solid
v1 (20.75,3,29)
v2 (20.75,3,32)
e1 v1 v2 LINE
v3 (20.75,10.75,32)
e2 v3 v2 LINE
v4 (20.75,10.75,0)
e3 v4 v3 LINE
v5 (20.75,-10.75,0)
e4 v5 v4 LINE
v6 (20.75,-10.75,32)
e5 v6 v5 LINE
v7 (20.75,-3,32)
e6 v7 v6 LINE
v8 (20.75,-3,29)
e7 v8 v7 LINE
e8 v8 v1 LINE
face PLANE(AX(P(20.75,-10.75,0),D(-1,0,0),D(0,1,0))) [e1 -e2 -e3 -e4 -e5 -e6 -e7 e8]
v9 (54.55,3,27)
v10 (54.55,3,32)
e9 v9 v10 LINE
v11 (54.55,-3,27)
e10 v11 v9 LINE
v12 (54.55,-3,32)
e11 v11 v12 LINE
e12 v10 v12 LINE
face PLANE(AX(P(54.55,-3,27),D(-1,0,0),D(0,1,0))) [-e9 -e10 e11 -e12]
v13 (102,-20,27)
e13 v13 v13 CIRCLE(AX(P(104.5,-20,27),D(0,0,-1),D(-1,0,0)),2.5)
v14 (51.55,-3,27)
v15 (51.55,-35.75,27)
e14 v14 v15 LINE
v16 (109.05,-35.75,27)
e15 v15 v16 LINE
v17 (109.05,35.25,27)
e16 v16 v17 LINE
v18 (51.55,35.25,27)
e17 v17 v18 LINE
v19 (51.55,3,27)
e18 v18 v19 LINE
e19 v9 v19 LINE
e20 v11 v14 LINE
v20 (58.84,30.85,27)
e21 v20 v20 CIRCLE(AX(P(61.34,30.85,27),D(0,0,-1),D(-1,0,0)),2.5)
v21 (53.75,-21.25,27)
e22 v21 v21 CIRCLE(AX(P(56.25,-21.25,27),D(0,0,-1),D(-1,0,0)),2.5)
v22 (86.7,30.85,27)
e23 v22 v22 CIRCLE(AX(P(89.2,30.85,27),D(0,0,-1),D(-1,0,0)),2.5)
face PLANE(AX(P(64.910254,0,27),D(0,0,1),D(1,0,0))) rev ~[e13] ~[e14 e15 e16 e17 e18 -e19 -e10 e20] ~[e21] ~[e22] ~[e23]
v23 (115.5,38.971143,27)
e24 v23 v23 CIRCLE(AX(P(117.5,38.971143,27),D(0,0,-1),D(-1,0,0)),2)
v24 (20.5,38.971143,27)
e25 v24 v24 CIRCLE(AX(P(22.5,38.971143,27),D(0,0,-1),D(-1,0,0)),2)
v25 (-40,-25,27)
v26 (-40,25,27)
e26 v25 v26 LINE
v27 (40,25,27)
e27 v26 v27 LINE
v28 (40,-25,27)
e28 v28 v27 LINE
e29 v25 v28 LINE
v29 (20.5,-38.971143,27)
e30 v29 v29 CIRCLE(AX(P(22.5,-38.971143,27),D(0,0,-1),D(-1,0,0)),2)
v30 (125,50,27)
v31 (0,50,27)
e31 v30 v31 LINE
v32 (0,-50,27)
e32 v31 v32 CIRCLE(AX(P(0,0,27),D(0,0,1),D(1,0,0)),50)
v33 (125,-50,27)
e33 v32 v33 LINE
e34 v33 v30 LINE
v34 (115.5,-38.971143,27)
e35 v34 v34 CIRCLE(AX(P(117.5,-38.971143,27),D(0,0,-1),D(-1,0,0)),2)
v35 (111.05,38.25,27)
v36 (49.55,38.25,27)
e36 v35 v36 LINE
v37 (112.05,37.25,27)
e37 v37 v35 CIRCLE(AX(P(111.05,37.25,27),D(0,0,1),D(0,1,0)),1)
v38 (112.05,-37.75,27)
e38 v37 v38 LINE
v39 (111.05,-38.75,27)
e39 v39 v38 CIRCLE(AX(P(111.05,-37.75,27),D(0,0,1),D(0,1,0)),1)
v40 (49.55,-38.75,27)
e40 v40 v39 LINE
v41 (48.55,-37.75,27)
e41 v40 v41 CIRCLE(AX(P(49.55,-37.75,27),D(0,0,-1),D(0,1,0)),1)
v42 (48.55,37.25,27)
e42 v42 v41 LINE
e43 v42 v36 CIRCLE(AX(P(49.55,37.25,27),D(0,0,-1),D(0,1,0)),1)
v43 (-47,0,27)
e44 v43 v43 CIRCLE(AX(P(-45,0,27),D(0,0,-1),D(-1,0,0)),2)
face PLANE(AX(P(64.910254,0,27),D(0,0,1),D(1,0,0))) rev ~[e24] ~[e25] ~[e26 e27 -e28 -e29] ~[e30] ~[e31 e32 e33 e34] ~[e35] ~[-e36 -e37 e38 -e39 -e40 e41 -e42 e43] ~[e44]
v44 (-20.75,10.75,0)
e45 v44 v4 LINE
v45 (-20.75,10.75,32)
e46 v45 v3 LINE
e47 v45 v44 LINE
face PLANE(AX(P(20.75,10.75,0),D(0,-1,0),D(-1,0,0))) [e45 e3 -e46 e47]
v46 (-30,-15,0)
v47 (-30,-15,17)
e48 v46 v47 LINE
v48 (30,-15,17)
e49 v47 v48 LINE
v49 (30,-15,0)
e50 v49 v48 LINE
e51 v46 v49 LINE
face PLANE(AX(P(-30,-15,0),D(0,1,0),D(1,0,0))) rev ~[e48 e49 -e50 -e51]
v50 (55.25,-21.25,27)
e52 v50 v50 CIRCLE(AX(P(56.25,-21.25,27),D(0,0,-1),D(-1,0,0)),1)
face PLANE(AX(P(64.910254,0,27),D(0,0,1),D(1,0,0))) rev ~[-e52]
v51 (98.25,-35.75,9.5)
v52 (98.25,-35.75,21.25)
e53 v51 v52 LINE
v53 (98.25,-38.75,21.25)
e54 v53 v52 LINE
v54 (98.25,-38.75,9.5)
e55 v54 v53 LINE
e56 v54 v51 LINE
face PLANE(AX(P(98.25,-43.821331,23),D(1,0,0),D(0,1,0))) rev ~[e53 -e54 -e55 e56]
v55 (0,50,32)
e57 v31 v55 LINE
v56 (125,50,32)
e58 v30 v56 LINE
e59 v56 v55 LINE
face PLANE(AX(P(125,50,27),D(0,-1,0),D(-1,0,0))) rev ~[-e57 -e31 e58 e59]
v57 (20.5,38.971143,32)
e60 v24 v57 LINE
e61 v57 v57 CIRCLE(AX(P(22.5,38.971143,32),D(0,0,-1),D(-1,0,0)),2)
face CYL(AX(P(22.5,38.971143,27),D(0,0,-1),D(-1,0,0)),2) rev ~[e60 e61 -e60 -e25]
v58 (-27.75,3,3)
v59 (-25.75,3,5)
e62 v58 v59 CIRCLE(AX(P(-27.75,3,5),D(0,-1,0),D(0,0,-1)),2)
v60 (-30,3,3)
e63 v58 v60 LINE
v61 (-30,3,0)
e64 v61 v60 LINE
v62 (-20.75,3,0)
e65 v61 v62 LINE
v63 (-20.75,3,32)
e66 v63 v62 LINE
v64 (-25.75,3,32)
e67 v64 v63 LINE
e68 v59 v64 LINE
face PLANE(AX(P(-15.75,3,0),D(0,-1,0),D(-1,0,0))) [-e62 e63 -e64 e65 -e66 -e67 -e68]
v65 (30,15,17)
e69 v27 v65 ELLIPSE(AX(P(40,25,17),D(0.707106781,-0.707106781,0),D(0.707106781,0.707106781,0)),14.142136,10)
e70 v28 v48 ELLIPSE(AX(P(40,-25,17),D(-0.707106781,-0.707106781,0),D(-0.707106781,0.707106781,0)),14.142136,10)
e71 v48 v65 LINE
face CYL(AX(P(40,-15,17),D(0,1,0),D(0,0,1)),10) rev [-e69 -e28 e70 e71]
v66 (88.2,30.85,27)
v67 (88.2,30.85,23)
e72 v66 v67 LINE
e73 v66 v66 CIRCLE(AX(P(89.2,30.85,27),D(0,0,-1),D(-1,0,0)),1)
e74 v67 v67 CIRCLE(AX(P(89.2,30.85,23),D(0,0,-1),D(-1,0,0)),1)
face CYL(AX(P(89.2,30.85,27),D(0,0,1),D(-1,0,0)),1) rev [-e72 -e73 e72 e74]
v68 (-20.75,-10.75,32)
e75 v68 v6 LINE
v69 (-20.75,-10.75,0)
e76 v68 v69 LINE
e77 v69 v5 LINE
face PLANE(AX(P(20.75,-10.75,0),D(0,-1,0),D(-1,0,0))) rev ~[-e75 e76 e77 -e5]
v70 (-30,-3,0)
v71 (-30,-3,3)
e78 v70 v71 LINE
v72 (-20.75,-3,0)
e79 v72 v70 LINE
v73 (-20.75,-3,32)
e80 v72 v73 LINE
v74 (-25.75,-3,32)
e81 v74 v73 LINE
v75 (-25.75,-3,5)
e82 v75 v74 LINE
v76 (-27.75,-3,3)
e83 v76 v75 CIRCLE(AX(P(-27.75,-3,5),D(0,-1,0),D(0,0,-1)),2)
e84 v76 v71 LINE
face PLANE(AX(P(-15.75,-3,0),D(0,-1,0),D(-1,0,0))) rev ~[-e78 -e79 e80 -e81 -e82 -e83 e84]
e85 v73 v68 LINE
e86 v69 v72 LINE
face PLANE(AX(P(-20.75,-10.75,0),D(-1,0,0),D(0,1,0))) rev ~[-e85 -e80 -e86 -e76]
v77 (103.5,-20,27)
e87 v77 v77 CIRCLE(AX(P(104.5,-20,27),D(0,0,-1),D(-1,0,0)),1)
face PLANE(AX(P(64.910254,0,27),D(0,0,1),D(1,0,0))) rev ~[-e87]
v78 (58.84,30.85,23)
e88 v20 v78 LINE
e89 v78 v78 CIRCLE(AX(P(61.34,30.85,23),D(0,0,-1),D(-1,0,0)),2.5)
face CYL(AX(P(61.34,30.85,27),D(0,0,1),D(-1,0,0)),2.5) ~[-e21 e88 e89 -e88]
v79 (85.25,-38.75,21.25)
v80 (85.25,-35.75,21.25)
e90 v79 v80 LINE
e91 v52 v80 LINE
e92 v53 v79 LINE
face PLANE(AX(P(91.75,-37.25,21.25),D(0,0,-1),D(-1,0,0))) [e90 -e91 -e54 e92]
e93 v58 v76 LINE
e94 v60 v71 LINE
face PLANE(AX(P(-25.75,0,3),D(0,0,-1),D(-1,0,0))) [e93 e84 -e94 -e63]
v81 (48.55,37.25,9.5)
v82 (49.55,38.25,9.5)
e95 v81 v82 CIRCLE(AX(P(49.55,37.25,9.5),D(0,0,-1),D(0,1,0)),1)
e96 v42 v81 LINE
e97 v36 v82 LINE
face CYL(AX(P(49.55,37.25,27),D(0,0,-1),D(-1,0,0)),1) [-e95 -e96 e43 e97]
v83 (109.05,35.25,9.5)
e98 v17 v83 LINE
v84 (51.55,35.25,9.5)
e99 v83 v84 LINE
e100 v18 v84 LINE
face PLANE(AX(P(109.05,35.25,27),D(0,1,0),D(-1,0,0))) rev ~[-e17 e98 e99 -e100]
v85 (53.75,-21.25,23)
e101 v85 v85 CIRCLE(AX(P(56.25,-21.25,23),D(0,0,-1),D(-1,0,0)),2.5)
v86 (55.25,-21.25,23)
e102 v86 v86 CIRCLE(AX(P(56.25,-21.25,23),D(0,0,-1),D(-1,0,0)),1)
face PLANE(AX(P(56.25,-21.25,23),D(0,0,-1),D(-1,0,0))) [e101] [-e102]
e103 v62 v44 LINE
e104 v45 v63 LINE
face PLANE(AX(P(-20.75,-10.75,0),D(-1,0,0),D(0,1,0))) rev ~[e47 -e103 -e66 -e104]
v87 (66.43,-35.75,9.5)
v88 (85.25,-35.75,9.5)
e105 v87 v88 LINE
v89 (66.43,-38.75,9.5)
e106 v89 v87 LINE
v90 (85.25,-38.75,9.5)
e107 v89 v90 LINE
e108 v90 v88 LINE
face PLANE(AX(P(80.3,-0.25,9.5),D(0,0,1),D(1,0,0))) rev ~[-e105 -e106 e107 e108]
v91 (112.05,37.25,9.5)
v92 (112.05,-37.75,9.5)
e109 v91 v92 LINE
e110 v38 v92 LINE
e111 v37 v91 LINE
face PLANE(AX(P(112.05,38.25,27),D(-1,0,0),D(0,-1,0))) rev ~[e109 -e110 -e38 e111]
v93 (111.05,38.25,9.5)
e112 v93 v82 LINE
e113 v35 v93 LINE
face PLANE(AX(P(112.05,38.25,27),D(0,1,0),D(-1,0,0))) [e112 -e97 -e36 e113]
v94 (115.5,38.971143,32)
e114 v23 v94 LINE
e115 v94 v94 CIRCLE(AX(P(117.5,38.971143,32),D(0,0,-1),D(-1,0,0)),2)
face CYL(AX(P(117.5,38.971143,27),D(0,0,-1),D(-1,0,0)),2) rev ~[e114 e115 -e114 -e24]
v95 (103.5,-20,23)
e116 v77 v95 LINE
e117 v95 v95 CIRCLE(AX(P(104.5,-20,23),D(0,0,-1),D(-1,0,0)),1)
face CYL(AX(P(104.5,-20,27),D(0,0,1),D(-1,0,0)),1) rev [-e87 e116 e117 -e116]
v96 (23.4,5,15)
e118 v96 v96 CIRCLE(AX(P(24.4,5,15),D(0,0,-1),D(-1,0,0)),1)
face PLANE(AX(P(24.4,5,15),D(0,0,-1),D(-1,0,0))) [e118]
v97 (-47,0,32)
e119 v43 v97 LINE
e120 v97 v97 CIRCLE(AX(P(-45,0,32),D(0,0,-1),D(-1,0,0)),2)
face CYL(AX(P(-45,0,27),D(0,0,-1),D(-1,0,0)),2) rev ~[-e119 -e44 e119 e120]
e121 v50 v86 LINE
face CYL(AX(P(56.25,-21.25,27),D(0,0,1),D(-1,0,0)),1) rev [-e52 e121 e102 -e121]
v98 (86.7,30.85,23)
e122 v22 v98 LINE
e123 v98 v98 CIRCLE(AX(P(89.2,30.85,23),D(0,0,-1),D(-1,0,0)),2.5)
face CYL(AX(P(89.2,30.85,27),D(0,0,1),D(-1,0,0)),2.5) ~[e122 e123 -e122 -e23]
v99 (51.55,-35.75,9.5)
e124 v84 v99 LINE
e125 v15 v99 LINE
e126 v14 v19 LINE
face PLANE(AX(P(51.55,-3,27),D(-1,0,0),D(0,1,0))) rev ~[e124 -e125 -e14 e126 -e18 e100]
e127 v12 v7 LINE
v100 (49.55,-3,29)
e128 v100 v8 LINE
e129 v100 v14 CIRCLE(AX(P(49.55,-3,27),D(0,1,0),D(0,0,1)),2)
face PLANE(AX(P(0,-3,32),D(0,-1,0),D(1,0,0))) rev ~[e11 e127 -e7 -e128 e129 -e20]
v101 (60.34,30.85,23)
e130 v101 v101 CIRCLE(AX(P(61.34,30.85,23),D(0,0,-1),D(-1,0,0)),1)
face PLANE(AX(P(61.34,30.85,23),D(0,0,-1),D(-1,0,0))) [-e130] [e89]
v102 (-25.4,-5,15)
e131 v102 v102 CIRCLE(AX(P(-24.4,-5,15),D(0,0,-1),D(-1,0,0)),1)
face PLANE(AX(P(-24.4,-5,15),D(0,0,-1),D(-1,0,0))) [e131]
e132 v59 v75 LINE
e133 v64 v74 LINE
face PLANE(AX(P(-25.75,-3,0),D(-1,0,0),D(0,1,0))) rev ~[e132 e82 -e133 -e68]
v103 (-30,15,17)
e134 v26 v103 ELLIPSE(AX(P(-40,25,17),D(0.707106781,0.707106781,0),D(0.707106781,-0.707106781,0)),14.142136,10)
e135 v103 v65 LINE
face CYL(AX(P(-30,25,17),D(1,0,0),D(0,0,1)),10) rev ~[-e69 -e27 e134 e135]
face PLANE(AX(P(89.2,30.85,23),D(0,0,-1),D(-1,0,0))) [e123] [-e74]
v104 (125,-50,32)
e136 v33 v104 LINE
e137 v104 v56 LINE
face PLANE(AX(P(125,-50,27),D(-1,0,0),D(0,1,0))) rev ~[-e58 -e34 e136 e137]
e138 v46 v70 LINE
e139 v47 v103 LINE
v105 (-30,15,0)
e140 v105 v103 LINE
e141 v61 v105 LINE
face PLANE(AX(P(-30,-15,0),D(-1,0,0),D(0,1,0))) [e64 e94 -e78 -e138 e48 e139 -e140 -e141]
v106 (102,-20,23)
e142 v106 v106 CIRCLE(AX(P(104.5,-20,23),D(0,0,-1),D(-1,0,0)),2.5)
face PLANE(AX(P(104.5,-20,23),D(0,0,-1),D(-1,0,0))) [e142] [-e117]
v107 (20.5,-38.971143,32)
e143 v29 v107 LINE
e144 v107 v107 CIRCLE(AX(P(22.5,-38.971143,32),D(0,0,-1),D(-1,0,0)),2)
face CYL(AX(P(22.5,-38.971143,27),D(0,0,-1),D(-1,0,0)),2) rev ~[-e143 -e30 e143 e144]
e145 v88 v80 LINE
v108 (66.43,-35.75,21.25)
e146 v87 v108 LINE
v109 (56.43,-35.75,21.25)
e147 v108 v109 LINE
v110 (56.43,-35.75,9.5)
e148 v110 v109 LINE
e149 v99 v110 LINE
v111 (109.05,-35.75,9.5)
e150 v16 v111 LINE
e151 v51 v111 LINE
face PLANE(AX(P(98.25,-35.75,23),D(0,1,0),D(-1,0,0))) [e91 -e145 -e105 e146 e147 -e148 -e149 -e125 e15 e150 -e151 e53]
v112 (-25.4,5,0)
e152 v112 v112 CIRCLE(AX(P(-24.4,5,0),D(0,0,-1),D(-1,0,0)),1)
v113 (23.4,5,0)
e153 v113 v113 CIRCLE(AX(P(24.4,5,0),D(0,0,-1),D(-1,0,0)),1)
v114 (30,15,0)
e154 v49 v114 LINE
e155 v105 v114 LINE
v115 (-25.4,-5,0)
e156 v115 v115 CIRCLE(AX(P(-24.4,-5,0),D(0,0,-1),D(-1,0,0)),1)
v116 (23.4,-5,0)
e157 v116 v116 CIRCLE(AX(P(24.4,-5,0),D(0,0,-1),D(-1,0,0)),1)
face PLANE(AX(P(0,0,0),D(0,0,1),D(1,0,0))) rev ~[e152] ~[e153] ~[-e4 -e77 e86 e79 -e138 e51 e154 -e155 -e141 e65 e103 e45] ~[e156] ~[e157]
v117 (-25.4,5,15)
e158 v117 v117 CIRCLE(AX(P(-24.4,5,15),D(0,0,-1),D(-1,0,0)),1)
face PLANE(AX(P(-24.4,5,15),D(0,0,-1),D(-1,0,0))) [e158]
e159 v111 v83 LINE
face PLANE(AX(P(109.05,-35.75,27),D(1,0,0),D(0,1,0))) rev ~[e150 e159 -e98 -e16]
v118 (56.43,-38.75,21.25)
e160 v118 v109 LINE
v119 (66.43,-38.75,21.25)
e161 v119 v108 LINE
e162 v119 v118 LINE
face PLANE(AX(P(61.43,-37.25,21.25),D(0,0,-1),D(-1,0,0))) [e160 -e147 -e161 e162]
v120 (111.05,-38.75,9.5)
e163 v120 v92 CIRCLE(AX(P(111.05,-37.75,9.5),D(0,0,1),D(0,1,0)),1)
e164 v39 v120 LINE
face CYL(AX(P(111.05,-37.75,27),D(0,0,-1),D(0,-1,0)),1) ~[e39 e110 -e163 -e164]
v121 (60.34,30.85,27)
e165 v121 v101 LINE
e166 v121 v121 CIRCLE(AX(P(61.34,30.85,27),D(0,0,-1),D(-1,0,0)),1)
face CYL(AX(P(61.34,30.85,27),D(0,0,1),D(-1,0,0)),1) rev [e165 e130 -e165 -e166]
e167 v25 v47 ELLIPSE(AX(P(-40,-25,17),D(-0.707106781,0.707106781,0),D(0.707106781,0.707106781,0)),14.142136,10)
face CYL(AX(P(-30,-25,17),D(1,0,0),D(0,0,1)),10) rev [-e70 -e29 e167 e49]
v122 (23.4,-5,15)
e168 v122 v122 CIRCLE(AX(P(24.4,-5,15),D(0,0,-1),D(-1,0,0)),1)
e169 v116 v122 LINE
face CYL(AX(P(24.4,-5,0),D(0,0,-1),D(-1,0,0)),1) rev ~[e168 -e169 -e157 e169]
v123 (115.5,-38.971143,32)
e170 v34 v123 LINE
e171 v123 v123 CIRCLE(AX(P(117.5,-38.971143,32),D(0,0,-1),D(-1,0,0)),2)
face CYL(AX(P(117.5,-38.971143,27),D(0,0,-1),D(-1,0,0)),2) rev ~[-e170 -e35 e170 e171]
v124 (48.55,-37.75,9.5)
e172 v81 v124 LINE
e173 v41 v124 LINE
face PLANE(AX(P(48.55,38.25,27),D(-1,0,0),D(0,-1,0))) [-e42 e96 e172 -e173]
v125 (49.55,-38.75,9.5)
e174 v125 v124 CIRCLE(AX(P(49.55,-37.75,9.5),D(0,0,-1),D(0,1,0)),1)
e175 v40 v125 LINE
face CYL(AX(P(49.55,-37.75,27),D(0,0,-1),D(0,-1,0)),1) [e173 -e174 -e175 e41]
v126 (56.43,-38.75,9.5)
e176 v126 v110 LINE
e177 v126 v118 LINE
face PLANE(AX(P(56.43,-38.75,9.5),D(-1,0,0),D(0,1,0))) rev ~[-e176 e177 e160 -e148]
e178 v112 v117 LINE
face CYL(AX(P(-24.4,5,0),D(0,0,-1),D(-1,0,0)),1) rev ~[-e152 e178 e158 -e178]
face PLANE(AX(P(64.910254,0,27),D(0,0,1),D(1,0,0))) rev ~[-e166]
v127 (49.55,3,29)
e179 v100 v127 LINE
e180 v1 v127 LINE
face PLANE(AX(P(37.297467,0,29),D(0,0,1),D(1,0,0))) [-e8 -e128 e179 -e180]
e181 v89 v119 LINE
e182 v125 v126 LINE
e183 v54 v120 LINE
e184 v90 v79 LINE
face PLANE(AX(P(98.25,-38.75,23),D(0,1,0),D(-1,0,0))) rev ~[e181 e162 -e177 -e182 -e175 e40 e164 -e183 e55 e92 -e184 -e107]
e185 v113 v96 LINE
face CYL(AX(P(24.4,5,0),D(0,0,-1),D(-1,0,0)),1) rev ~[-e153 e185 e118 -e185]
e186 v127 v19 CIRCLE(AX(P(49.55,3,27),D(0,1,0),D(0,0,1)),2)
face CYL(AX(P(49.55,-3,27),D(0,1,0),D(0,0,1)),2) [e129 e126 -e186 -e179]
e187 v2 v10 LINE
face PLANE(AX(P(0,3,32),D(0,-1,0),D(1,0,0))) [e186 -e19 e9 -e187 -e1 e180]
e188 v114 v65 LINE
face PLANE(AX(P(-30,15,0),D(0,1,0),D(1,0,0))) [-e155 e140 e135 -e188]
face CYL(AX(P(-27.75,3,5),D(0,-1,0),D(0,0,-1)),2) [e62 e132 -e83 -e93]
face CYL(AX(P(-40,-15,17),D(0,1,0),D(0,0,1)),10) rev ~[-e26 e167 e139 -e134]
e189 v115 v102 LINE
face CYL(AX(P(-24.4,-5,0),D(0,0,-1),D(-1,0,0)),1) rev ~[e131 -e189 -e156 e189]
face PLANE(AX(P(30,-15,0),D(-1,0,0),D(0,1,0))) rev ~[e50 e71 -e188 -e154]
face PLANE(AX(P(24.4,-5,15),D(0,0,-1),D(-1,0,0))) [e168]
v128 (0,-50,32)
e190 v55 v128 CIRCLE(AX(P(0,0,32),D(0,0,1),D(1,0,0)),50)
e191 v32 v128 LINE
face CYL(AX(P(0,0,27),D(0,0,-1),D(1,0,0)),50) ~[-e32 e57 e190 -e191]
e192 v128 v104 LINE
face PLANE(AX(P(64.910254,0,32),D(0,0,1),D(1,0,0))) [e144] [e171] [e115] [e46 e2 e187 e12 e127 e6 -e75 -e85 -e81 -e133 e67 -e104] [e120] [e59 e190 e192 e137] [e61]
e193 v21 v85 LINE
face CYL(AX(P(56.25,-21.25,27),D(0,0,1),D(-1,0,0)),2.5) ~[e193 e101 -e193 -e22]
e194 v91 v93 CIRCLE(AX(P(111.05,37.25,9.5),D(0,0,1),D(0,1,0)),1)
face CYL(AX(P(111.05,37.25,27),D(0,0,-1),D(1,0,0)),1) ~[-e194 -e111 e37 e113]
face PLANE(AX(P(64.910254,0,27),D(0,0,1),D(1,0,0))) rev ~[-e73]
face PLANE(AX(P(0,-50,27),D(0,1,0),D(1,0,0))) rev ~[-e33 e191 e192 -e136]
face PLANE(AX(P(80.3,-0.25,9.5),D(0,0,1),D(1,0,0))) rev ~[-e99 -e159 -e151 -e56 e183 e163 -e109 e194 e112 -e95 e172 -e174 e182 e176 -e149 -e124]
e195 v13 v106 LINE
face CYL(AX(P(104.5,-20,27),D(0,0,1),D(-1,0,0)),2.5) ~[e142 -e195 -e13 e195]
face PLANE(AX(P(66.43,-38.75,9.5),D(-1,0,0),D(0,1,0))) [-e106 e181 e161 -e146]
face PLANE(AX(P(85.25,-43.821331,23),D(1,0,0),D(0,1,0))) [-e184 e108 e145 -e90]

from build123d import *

# Parameters (mm, degrees)
SKETCH1_W           = 60
SKETCH1_H           = 30
SKETCH1_W_2         = 41.5
SKETCH1_H_2         = 21.5
BOSS_EXTRUDE1_DEPTH = 27
SKETCH2_R           = 50
BOSS_EXTRUDE2_DEPTH = 5
FILLET2_R           = 10
SKETCH6_R           = 1
CUT_EXTRUDE2_DEPTH  = 15
SKETCH7_W           = 41.5
SKETCH7_H           = 21.5
CUT_EXTRUDE3_DEPTH  = 69
SKETCH8_W           = 10
SKETCH8_H           = 6
CUT_EXTRUDE4_DEPTH  = 75
SKETCH10_W          = 74.59493419
SKETCH10_H          = 6
CUT_EXTRUDE5_DEPTH  = 3
SKETCH11_R          = 2
CUT_EXTRUDE6_DEPTH  = 16
BOSS_EXTRUDE3_DEPTH = 5
SKETCH13_R          = 2.5
SKETCH13_R_2        = 1
BOSS_EXTRUDE4_DEPTH = 4
SKETCH14_R          = 2.5
SKETCH14_R_2        = 1
BOSS_EXTRUDE5_DEPTH = 4
SKETCH15_R          = 2.5
SKETCH15_R_2        = 1
BOSS_EXTRUDE6_DEPTH = 4
BOSS_EXTRUDE8_DEPTH = 17.5
SKETCH17_W          = 3
SKETCH17_H          = 6
CUT_EXTRUDE7_DEPTH  = 17.5
SKETCH18_W          = 1.640081146
SKETCH18_H          = 6
CUT_EXTRUDE8_DEPTH  = 3
SKETCH20_W          = 13
SKETCH20_H          = 15.827650688
CUT_EXTRUDE9_DEPTH  = 25
SKETCH21_W          = 10
SKETCH21_H          = 3
CUT_EXTRUDE10_DEPTH = 13.5
SKETCH23_W          = 13
SKETCH23_H          = 3
SKETCH23_W_2        = 10
BOSS_EXTRUDE9_DEPTH = 1.75
FILLET3_R           = 1
SKETCH24_R          = 2
CUT_EXTRUDE11_DEPTH = 17
SKETCH25_W          = 10.72256849
SKETCH25_H          = 6
CUT_EXTRUDE12_DEPTH = 3
FILLET4_R           = 2


with BuildPart() as part:
    # Sketch1 → Boss-Extrude1 (new body)
    with BuildSketch(Plane.XY):
        Rectangle(SKETCH1_W, SKETCH1_H)
        Rectangle(SKETCH1_W_2, SKETCH1_H_2, mode=Mode.SUBTRACT)
    extrude(amount=BOSS_EXTRUDE1_DEPTH)

    # Sketch2 → Boss-Extrude2 (add)
    with BuildSketch(Plane.XY.offset(27)):
        Circle(SKETCH2_R)
    extrude(amount=BOSS_EXTRUDE2_DEPTH)

    # Fillet2
    fillet2_edges = [part.edges().sort_by_distance(p)[0] for p in [
        (30, 0, 27),
        (0, 15, 27),
        (-30, 0, 27),
        (0, -15, 27),
    ]]
    fillet(fillet2_edges, radius=FILLET2_R)

    # Sketch6 → Cut-Extrude2 (cut)
    with BuildSketch(Plane(origin=(0, 0, 0), x_dir=(-1, 0, 0), z_dir=(0, 0, -1))):
        with Locations((24.4, 5)):
            Circle(SKETCH6_R)
        with Locations((-24.4, 5)):
            Circle(SKETCH6_R)
        with Locations((24.4, -5)):
            Circle(SKETCH6_R)
        with Locations((-24.4, -5)):
            Circle(SKETCH6_R)
    extrude(amount=-CUT_EXTRUDE2_DEPTH, mode=Mode.SUBTRACT)

    # Sketch7 → Cut-Extrude3 (cut)
    with BuildSketch(Plane(origin=(0, 0, 0), x_dir=(-1, 0, 0), z_dir=(0, 0, -1))):
        Rectangle(SKETCH7_W, SKETCH7_H)
    extrude(amount=-CUT_EXTRUDE3_DEPTH, mode=Mode.SUBTRACT)

    # Sketch8 → Cut-Extrude4 (cut)
    with BuildSketch(Plane(origin=(0, 0, 0), x_dir=(-1, 0, 0), z_dir=(0, 0, -1))):
        with Locations((20.75, 0)):
            Rectangle(SKETCH8_W, SKETCH8_H)
    extrude(amount=-CUT_EXTRUDE4_DEPTH, mode=Mode.SUBTRACT)

    # Sketch10 → Cut-Extrude5 (cut)
    with BuildSketch(Plane.XY.offset(32)):
        with Locations((37.297467095, 0)):
            Rectangle(SKETCH10_W, SKETCH10_H)
    extrude(amount=-CUT_EXTRUDE5_DEPTH, mode=Mode.SUBTRACT)

    # Sketch11 → Cut-Extrude6 (cut)
    with BuildSketch(Plane(origin=(0, 0, 27), x_dir=(-1, 0, 0), z_dir=(0, 0, -1))):
        with Locations((45, 0)):
            Circle(SKETCH11_R)
        with Locations((-22.5, 38.97114317)):
            Circle(SKETCH11_R)
        with Locations((-22.5, -38.97114317)):
            Circle(SKETCH11_R)
    extrude(amount=-CUT_EXTRUDE6_DEPTH, mode=Mode.SUBTRACT)

    # Sketch12 → Boss-Extrude3 (add)
    with BuildSketch(Plane(origin=(0, 0, 27), x_dir=(-1, 0, 0), z_dir=(0, 0, -1))):
        with BuildLine():
            Line((0, -50), (-125, -50))
            Line((-125, -50), (-125, 50))
            Line((-125, 50), (0, 50))
            ThreePointArc((0, 50), (-50, 0), (0, -50))
        make_face()
    extrude(amount=-BOSS_EXTRUDE3_DEPTH)

    # Sketch13 → Boss-Extrude4 (add)
    with BuildSketch(Plane(origin=(0, 0, 27), x_dir=(-1, 0, 0), z_dir=(0, 0, -1))):
        with Locations((-104.5, -20)):
            Circle(SKETCH13_R)
        with Locations((-104.5, -20)):
            Circle(SKETCH13_R_2, mode=Mode.SUBTRACT)
    extrude(amount=BOSS_EXTRUDE4_DEPTH)

    # Sketch14 → Boss-Extrude5 (add)
    with BuildSketch(Plane(origin=(0, 0, 27), x_dir=(-1, 0, 0), z_dir=(0, 0, -1))):
        with Locations((-56.25, -21.25)):
            Circle(SKETCH14_R)
        with Locations((-56.25, -21.25)):
            Circle(SKETCH14_R_2, mode=Mode.SUBTRACT)
    extrude(amount=BOSS_EXTRUDE5_DEPTH)

    # Sketch15 → Boss-Extrude6 (add)
    with BuildSketch(Plane(origin=(0, 0, 27), x_dir=(-1, 0, 0), z_dir=(0, 0, -1))):
        with Locations((-61.34, 30.85)):
            Circle(SKETCH15_R)
        with Locations((-61.34, 30.85)):
            Circle(SKETCH15_R_2, mode=Mode.SUBTRACT)
        with Locations((-89.2, 30.85)):
            Circle(SKETCH15_R)
        with Locations((-89.2, 30.85)):
            Circle(SKETCH15_R_2, mode=Mode.SUBTRACT)
    extrude(amount=BOSS_EXTRUDE6_DEPTH)

    # Sketch16 → Boss-Extrude8 (add)
    with BuildSketch(Plane(origin=(0, 0, 27), x_dir=(-1, 0, 0), z_dir=(0, 0, -1))):
        Polygon((-112.05, 38.25), (-48.55, 38.25), (-48.55, -38.75), (-112.05, -38.75), (-112.05, 7.205124567), align=None)
        Polygon((-109.05, 7.205124567), (-109.05, 35.25), (-51.55, 35.25), (-51.55, -35.75), (-109.05, -35.75), align=None, mode=Mode.SUBTRACT)
    extrude(amount=BOSS_EXTRUDE8_DEPTH)

    # Sketch17 → Cut-Extrude7 (cut)
    with BuildSketch(Plane(origin=(0, 0, 27), x_dir=(-1, 0, 0), z_dir=(0, 0, -1))):
        with Locations((-53.05, 0)):
            Rectangle(SKETCH17_W, SKETCH17_H)
    extrude(amount=-CUT_EXTRUDE7_DEPTH, mode=Mode.SUBTRACT)

    # Sketch18 → Cut-Extrude8 (cut)
    with BuildSketch(Plane.XY.offset(32)):
        with Locations((50.729959427, 0)):
            Rectangle(SKETCH18_W, SKETCH18_H)
    extrude(amount=-CUT_EXTRUDE8_DEPTH, mode=Mode.SUBTRACT)

    # Sketch20 → Cut-Extrude9 (cut)
    with BuildSketch(Plane(origin=(0, 0, 23), x_dir=(-1, 0, 0), z_dir=(0, 0, -1))):
        with Locations((-91.75, -35.907506038)):
            Rectangle(SKETCH20_W, SKETCH20_H)
    extrude(amount=CUT_EXTRUDE9_DEPTH, mode=Mode.SUBTRACT)

    # Sketch21 → Cut-Extrude10 (cut)
    with BuildSketch(Plane(origin=(0, 0, 9.5), x_dir=(-1, 0, 0), z_dir=(0, 0, -1))):
        with Locations((-61.43, -37.25)):
            Rectangle(SKETCH21_W, SKETCH21_H)
    extrude(amount=-CUT_EXTRUDE10_DEPTH, mode=Mode.SUBTRACT)

    # Sketch23 → Boss-Extrude9 (add)
    with BuildSketch(Plane(origin=(0, 0, 23), x_dir=(-1, 0, 0), z_dir=(0, 0, -1))):
        with Locations((-91.75, -37.25)):
            Rectangle(SKETCH23_W, SKETCH23_H)
        with Locations((-61.43, -37.25)):
            Rectangle(SKETCH23_W_2, SKETCH23_H)
    extrude(amount=BOSS_EXTRUDE9_DEPTH)

    # Fillet3
    fillet3_edges = [part.edges().sort_by_distance(p)[0] for p in [
        (112.05, 38.25, 18.25),
        (112.05, -38.75, 18.25),
        (48.55, -38.75, 18.25),
        (48.55, 38.25, 18.25),
    ]]
    fillet(fillet3_edges, radius=FILLET3_R)

    # Sketch24 → Cut-Extrude11 (cut)
    with BuildSketch(Plane(origin=(0, 0, 27), x_dir=(-1, 0, 0), z_dir=(0, 0, -1))):
        with Locations((-117.5, 38.97114317)):
            Circle(SKETCH24_R)
        with Locations((-117.5, -38.97114317)):
            Circle(SKETCH24_R)
    extrude(amount=-CUT_EXTRUDE11_DEPTH, mode=Mode.SUBTRACT)

    # Sketch25 → Cut-Extrude12 (cut)
    with BuildSketch(Plane(origin=(0, 0, 0), x_dir=(-1, 0, 0), z_dir=(0, 0, -1))):
        with Locations((25.75, 0)):
            Rectangle(SKETCH25_W, SKETCH25_H)
    extrude(amount=-CUT_EXTRUDE12_DEPTH, mode=Mode.SUBTRACT)

    # Fillet4
    fillet4_edges = [part.edges().sort_by_distance(p)[0] for p in [
        (-25.75, 0, 3),
        (51.55, 0, 29),
    ]]
    fillet(fillet4_edges, radius=FILLET4_R)


solid = part.part
